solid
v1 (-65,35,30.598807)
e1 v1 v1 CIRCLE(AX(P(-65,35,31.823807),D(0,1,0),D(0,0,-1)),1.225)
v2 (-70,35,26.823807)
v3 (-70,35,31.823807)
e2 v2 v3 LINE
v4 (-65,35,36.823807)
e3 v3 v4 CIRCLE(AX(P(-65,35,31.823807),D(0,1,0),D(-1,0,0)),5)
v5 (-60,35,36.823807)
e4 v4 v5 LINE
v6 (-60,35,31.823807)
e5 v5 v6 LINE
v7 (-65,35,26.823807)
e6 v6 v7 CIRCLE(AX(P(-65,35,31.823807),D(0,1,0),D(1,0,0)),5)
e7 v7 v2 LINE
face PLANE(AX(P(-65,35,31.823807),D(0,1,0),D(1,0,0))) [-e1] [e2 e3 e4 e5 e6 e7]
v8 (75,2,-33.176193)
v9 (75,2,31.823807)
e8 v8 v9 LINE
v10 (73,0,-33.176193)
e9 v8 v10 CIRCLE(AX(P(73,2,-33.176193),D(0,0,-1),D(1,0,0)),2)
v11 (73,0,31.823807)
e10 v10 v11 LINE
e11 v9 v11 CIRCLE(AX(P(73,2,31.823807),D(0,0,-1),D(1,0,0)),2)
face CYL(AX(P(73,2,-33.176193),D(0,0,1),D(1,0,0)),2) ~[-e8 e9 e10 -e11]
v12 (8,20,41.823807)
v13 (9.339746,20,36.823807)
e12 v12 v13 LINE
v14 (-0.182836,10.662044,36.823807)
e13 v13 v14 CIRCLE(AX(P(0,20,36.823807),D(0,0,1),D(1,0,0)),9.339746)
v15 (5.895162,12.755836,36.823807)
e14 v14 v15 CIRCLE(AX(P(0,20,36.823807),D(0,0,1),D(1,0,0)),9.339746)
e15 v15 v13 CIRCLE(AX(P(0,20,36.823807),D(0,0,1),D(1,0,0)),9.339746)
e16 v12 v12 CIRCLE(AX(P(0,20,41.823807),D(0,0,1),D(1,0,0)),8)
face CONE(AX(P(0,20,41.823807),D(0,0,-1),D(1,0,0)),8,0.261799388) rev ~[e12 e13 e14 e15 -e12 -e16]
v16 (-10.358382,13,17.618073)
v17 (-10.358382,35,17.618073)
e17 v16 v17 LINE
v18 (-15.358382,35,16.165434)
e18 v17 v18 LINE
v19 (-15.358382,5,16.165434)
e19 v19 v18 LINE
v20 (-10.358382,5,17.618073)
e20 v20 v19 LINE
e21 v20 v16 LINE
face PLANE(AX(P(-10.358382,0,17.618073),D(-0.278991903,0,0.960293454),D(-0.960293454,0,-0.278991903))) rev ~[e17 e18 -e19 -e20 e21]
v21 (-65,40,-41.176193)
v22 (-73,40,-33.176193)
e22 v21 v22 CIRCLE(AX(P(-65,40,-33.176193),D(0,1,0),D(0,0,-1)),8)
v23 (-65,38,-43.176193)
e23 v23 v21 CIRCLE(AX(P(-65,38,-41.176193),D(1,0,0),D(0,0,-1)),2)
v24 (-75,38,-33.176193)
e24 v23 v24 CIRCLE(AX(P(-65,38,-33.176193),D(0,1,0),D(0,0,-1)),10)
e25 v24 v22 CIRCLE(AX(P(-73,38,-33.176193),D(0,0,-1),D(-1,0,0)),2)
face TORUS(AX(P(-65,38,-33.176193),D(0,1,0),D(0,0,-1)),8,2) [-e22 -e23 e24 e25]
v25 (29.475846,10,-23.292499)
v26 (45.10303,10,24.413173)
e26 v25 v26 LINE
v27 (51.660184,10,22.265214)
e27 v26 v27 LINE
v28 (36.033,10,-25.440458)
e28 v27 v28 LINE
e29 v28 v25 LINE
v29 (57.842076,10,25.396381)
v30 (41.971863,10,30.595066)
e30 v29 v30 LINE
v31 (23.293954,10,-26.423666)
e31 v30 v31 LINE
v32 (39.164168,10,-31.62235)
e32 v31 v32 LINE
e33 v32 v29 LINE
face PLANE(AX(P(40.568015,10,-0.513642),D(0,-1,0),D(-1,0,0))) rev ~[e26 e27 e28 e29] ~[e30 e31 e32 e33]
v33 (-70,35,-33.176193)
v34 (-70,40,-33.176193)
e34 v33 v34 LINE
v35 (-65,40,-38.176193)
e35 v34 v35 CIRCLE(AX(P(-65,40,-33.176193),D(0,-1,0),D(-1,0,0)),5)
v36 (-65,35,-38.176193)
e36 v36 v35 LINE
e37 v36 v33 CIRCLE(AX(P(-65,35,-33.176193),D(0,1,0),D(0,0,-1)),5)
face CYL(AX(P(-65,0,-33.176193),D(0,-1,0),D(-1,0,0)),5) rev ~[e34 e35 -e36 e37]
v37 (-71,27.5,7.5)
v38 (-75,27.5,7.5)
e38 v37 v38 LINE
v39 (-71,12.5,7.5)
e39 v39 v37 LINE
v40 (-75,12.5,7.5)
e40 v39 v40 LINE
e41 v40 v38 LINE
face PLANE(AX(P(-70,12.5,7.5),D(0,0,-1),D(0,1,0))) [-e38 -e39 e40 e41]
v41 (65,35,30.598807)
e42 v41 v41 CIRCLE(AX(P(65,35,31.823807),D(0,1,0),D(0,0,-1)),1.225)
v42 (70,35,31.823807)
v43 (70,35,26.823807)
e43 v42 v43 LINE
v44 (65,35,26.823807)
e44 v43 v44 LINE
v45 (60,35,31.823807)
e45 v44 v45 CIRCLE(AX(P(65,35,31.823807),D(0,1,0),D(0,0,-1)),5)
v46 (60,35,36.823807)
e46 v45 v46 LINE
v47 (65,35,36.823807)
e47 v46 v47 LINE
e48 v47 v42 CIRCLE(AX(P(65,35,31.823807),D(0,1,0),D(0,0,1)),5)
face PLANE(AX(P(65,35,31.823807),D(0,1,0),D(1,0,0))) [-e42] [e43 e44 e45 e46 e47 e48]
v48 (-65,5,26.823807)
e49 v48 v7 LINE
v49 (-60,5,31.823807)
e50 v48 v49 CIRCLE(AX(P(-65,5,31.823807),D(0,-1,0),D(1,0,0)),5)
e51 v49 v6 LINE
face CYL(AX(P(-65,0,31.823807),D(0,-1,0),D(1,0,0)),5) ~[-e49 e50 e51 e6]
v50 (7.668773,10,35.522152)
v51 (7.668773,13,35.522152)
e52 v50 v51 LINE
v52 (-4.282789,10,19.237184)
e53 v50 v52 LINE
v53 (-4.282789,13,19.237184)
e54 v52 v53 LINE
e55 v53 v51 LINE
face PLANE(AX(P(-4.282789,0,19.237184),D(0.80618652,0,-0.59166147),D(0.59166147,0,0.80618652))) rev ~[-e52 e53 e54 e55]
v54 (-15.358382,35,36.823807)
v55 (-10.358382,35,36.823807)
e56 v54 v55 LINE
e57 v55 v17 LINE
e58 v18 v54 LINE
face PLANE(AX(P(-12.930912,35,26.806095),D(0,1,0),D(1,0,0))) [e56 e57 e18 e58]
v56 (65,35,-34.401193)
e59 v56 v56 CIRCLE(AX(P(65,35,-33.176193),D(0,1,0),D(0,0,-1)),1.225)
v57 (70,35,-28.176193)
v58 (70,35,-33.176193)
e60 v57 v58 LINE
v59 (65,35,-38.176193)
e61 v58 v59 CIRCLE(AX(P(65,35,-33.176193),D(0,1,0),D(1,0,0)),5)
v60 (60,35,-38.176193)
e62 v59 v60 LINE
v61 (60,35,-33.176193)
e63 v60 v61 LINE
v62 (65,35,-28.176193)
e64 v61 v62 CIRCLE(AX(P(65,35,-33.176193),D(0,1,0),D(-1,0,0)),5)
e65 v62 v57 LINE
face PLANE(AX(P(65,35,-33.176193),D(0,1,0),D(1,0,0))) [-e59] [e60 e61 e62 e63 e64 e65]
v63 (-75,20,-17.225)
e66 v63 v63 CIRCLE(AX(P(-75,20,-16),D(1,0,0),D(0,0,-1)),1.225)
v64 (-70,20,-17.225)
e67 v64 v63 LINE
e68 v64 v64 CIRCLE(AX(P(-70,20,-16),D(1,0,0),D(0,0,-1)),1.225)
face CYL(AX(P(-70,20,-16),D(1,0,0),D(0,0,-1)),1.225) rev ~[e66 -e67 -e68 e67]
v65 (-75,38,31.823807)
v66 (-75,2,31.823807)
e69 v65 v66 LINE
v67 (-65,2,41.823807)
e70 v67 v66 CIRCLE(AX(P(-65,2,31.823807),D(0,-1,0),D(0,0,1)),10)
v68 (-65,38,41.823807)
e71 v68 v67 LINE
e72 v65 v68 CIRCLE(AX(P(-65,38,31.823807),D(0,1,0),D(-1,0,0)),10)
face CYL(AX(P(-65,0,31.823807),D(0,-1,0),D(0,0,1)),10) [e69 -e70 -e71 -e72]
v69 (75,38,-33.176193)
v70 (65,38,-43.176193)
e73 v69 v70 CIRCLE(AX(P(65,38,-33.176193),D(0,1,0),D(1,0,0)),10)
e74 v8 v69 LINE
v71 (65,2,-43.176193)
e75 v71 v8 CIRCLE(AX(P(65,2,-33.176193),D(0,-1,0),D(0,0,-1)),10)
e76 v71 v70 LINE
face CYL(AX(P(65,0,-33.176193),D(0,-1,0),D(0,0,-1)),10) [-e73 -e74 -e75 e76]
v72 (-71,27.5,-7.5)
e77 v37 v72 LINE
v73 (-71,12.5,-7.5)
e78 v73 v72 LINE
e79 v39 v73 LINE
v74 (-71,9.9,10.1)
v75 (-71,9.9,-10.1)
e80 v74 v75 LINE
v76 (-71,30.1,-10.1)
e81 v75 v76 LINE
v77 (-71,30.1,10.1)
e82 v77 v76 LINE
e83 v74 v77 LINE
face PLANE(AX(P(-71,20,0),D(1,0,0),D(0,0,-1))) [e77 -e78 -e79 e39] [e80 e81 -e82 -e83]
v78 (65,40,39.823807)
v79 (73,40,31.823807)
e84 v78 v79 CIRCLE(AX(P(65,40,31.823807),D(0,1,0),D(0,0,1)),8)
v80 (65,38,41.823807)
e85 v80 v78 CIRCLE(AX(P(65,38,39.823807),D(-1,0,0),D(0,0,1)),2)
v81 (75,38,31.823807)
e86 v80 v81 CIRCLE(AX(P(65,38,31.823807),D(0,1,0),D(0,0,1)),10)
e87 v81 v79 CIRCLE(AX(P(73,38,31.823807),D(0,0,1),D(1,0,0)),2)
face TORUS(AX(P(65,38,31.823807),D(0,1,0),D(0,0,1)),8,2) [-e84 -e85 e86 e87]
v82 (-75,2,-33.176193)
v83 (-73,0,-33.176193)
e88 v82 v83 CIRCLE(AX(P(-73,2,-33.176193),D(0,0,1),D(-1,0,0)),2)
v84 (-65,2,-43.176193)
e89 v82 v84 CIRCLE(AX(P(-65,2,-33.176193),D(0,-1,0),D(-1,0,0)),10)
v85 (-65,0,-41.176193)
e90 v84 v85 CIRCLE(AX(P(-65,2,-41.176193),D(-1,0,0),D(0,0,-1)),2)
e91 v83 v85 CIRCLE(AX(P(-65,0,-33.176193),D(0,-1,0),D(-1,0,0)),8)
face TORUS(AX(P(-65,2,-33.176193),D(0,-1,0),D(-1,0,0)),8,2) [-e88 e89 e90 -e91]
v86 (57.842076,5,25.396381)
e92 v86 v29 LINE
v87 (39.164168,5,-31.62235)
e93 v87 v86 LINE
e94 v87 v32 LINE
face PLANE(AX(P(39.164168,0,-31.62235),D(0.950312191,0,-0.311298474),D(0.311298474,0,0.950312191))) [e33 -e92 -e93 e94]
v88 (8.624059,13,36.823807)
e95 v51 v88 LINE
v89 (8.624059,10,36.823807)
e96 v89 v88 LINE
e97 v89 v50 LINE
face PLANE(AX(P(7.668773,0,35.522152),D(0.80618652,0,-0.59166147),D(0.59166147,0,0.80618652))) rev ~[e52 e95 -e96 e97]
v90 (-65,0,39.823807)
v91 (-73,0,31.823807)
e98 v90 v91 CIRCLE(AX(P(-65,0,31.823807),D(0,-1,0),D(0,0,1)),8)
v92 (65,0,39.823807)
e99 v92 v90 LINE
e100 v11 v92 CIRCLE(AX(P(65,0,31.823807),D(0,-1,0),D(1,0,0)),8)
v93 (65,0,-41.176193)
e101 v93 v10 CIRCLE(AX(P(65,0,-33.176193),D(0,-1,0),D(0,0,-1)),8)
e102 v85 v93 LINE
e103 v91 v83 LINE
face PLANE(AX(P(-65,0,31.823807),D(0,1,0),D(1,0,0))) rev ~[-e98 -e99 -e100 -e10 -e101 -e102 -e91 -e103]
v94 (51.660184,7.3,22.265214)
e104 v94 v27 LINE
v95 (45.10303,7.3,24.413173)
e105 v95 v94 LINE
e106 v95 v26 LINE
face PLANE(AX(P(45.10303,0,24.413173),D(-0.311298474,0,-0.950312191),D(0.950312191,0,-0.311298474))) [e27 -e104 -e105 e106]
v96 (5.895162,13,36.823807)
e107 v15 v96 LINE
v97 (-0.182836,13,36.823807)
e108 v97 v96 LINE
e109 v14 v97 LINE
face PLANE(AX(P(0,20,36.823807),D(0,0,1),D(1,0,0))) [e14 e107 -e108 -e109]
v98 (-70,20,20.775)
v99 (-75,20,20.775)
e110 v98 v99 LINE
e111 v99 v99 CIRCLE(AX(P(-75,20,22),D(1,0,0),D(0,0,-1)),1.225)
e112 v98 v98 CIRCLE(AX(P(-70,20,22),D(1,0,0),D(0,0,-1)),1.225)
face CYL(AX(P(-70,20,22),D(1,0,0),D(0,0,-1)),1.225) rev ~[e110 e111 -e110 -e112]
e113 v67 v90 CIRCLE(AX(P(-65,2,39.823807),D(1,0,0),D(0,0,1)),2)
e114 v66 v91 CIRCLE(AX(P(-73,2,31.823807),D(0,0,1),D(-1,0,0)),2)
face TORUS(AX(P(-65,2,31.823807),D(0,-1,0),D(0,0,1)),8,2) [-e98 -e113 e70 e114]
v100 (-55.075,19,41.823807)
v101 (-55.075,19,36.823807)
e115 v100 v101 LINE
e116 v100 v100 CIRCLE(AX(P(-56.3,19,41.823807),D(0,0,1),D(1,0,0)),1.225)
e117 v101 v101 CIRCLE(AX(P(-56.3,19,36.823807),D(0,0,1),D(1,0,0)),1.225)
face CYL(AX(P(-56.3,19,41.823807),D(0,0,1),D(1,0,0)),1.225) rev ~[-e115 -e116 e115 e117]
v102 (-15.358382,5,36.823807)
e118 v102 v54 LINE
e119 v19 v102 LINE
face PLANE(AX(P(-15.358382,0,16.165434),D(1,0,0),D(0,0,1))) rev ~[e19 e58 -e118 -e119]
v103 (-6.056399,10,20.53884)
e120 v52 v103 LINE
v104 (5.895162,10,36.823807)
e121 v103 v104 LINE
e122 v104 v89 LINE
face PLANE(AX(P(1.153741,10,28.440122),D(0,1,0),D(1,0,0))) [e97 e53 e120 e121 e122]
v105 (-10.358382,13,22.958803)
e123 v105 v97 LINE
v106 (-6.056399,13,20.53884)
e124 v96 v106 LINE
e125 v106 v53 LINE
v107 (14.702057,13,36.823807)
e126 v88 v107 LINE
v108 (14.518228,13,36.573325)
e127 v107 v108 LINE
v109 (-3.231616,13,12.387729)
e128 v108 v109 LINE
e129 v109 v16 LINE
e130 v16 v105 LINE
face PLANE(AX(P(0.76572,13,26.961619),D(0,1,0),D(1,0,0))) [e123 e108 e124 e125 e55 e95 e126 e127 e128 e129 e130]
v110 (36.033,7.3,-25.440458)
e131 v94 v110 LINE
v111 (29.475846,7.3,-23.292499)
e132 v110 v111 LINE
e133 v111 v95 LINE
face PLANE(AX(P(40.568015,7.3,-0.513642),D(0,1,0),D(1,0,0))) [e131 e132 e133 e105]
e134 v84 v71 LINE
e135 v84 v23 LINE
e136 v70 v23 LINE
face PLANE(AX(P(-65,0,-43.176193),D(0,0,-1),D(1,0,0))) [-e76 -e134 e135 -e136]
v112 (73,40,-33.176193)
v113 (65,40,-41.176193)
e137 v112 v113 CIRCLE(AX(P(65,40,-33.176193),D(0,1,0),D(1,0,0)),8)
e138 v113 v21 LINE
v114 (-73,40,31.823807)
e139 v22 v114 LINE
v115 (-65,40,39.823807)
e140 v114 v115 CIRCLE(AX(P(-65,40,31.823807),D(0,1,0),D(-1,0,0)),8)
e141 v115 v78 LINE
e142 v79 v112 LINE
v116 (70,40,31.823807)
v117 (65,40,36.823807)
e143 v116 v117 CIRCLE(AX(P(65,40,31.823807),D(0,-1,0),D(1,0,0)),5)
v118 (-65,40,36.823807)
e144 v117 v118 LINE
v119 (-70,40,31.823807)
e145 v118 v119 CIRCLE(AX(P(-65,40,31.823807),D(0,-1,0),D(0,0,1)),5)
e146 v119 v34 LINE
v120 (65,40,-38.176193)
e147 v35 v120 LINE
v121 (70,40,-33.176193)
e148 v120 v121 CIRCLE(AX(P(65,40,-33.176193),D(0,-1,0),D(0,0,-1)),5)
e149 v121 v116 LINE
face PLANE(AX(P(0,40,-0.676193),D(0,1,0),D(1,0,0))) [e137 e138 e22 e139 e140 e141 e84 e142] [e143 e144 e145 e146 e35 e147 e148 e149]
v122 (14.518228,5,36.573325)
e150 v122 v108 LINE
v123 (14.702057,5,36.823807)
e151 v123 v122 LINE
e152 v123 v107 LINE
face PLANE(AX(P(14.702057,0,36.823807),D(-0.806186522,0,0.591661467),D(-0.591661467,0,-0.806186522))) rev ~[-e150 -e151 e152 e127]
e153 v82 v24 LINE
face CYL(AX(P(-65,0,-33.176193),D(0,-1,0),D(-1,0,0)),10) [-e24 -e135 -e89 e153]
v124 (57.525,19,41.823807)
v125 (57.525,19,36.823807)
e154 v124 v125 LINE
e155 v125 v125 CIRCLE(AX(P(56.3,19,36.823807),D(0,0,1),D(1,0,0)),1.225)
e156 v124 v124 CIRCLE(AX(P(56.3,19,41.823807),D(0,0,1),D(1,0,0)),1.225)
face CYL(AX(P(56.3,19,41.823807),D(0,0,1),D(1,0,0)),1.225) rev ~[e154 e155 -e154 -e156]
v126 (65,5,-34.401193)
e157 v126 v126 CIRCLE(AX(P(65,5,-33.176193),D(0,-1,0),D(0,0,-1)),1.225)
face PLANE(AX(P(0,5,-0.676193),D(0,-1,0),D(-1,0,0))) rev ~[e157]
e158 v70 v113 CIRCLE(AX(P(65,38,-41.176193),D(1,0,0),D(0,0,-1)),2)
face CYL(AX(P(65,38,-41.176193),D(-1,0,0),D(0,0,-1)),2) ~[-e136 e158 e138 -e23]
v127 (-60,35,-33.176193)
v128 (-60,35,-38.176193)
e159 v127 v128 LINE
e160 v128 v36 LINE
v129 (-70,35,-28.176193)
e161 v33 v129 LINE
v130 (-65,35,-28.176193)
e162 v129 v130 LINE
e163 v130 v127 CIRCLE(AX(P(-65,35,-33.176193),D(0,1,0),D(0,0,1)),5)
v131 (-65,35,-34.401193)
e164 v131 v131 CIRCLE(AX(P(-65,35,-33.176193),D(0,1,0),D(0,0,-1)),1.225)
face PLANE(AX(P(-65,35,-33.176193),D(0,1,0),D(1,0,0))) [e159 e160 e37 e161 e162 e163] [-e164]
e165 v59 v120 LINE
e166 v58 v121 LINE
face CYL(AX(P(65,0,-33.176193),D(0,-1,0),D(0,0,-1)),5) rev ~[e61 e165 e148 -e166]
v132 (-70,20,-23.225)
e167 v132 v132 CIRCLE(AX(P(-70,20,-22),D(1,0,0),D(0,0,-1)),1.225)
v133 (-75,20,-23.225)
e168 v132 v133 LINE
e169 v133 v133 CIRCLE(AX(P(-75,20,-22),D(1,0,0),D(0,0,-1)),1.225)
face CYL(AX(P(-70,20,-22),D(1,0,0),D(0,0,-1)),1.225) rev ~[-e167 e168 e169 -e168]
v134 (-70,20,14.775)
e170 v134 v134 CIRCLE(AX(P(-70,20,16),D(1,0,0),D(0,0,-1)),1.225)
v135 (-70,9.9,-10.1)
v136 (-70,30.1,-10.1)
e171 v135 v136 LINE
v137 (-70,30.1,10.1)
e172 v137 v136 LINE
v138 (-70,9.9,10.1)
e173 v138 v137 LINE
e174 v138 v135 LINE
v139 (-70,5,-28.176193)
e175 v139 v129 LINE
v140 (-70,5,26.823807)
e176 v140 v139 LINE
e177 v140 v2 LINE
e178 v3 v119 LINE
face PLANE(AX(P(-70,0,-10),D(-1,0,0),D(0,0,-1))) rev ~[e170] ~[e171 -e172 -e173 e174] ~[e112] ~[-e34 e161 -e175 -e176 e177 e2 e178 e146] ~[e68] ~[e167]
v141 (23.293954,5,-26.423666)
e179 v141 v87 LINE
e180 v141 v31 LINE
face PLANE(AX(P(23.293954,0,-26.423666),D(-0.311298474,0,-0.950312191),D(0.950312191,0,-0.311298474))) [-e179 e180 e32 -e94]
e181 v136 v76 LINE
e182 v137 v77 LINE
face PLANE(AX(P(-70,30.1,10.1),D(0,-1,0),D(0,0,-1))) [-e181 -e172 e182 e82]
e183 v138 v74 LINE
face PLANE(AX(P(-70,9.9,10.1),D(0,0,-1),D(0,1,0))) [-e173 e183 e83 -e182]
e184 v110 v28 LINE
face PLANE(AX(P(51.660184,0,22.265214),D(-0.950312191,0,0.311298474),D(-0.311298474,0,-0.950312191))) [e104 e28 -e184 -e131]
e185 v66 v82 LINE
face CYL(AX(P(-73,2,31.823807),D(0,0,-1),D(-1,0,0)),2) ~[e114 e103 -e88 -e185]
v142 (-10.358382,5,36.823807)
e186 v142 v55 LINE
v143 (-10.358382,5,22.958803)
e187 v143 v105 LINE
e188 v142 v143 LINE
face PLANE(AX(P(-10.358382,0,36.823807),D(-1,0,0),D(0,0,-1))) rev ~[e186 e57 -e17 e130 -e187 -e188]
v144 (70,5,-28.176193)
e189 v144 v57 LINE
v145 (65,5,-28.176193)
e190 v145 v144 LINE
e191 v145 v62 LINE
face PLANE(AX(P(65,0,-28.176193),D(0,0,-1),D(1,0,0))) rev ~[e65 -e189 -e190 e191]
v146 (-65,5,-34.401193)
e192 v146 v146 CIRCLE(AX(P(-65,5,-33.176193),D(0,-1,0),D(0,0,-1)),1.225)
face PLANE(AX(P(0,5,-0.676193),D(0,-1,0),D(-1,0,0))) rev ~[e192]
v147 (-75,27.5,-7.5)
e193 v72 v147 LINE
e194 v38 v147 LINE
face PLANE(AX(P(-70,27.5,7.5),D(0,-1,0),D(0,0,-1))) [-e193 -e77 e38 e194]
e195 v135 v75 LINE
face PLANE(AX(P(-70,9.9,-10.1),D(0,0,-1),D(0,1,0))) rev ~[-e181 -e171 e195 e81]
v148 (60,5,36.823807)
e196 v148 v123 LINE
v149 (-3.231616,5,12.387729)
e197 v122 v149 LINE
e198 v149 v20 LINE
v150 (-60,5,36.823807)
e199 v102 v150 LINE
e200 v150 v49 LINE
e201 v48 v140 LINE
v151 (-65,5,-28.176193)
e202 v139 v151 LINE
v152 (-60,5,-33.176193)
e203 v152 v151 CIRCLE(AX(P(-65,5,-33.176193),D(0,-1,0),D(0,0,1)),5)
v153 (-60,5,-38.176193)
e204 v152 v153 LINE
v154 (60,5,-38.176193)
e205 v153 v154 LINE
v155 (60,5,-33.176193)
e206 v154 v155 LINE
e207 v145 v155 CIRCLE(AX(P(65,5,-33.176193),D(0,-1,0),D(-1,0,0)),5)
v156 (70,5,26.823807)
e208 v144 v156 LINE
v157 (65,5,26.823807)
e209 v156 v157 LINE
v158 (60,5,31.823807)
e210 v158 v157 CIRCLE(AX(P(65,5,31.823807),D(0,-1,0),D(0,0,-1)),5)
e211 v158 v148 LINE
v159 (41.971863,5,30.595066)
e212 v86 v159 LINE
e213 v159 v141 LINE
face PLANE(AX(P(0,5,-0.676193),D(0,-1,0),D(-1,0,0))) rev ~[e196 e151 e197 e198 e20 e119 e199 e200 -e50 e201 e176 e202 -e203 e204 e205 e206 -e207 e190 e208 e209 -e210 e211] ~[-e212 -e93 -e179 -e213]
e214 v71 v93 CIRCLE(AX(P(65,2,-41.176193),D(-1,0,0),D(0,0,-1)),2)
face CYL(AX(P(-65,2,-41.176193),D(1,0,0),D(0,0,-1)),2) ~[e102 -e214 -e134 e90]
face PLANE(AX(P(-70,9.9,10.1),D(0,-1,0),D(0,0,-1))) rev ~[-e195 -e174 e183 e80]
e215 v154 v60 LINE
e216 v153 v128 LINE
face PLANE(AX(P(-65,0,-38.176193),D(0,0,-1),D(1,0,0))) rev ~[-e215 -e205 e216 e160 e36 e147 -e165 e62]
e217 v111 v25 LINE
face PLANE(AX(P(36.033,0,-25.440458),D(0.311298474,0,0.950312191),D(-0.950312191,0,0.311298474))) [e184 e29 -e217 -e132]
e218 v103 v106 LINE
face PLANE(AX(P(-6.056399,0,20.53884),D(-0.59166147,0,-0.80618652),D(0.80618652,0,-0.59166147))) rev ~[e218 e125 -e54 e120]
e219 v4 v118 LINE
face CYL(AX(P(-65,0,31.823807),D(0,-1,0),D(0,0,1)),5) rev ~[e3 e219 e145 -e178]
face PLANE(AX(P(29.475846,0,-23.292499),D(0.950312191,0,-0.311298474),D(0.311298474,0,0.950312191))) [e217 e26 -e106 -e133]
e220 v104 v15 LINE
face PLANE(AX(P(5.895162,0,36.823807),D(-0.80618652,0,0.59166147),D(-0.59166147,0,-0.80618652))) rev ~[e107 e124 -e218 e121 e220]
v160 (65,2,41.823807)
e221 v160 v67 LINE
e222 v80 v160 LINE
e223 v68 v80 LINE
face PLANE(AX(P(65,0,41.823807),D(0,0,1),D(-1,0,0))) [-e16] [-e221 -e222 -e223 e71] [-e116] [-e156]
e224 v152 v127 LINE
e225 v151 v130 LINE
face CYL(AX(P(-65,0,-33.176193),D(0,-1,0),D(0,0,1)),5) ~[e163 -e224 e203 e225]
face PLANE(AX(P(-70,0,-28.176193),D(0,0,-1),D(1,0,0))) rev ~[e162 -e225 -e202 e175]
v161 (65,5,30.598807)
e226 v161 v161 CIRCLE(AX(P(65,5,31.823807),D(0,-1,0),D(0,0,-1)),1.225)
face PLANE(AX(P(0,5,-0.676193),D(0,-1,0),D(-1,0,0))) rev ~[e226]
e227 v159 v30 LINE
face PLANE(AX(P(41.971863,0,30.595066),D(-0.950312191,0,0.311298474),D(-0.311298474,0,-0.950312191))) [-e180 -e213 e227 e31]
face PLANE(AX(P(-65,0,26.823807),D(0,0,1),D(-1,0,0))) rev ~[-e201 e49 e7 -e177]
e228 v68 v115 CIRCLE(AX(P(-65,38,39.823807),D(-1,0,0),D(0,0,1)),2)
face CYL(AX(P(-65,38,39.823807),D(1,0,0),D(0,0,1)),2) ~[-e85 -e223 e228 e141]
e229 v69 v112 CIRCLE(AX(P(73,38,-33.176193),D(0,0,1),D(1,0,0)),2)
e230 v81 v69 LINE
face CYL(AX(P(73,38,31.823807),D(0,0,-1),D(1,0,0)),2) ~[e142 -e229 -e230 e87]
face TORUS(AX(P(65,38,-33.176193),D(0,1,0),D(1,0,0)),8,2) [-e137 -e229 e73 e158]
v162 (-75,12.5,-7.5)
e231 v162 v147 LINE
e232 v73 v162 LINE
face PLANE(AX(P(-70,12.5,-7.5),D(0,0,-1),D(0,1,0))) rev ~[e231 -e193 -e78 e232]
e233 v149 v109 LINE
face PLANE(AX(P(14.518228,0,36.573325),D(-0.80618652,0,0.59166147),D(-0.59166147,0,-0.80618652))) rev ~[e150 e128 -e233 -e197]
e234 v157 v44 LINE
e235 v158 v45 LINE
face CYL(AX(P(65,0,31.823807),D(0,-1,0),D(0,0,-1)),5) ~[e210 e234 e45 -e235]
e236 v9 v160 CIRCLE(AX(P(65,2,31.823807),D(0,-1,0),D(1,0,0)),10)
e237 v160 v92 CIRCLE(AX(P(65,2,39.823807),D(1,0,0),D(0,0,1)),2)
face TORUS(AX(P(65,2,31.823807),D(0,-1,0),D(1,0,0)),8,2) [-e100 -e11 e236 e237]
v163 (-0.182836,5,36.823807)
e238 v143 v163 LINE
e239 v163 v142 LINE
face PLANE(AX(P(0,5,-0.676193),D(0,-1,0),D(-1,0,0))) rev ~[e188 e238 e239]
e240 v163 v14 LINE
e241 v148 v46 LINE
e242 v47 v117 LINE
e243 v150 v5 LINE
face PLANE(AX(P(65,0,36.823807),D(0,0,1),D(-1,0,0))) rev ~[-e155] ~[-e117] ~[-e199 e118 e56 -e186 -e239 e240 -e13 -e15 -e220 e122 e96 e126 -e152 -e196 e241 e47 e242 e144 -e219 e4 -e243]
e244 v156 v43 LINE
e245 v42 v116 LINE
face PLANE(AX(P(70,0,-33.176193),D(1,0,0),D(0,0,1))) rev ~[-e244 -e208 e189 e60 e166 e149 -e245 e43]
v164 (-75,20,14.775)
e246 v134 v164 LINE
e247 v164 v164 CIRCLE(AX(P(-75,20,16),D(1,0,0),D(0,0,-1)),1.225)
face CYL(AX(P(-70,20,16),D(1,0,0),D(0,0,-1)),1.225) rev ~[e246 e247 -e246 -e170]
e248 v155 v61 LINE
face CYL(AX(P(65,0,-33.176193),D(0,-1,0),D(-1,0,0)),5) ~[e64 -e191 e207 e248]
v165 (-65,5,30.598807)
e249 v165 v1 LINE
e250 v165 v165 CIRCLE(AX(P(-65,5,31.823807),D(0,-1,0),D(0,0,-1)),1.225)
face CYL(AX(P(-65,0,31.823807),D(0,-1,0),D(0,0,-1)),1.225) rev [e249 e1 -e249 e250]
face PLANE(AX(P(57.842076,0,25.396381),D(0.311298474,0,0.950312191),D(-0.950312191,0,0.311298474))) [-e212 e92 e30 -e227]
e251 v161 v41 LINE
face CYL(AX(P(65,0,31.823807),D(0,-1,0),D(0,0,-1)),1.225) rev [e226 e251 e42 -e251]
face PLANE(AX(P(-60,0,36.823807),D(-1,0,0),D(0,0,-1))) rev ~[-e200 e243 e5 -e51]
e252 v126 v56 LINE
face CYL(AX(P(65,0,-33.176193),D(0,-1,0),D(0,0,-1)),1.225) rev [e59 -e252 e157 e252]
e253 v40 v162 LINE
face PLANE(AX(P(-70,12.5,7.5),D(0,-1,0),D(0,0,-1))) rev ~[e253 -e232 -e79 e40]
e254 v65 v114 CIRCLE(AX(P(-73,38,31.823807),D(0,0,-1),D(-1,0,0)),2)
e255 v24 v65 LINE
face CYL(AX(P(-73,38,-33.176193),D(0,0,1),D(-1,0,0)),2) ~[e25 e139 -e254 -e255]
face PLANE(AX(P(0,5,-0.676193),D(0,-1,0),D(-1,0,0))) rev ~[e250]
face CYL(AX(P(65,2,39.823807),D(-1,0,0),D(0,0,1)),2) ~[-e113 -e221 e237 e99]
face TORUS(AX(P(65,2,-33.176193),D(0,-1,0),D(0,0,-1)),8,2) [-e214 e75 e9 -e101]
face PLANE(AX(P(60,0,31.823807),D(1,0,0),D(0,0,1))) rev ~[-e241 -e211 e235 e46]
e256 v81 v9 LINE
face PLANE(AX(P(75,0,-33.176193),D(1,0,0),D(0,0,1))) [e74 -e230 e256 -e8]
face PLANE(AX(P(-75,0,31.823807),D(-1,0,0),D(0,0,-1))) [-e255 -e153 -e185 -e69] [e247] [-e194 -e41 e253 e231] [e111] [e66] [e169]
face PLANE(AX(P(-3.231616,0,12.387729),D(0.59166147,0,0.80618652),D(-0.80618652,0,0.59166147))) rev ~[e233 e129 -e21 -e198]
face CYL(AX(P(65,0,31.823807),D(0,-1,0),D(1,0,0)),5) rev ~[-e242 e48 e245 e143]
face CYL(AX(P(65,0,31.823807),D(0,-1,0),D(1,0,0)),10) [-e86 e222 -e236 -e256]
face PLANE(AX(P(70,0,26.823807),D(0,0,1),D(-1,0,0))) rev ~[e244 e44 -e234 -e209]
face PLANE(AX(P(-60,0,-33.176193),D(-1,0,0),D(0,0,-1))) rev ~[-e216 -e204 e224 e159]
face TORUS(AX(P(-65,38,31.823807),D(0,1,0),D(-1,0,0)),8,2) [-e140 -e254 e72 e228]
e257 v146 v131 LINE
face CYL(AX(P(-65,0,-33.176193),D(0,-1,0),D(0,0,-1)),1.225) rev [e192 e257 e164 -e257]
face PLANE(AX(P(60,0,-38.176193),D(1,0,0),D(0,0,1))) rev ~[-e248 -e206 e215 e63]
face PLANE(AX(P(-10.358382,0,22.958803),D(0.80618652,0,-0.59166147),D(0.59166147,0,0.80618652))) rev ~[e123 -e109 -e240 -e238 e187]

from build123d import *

# Parameters (mm, degrees)
EXTRUDE_1_DEPTH     = 5
EXTRUDE_3_DEPTH     = 10
EXTRUDE_6_DEPTH     = 35
EXTRUDE_7_DEPTH     = 40
EXTRUDE_8_DEPTH     = 13
SKETCH_1_12_W       = 1
SKETCH_1_12_H       = 20
EXTRUDE_9_DEPTH     = 40
SKETCH_3_R          = 8
CUT_EXTRUDE_2_DEPTH = 5
CUT_EXTRUDE_2_DRAFT = 15
SKETCH_3_3_R        = 1.225
CUT_EXTRUDE_3_DEPTH = 5
EXTRUDE_10_DEPTH    = 7.3
EXTRUDE_11_DEPTH    = 10
SKETCH_1_17_R       = 1.225
EXTRUDE_12_DEPTH    = 35
SKETCH_4_W          = 20.2
SKETCH_4_H          = 20.2
SKETCH_4_W_2        = 15
SKETCH_4_H_2        = 15
CUT_EXTRUDE_4_DEPTH = 1
SKETCH_4_2_W        = 15
SKETCH_4_2_H        = 15
CUT_EXTRUDE_5_DEPTH = 5
SKETCH_4_4_R        = 1.225
CUT_EXTRUDE_6_DEPTH = 5
FILLET_1_R          = 2
FILLET_2_R          = 2


with BuildPart() as part:
    # 草图1 → 凸台-拉伸1 (new body)
    with BuildSketch(Plane(origin=(0, 0, 0), x_dir=(1, 0, 0), z_dir=(0, 1, 0))):
        with BuildLine():
            Line((75, 33.176192778), (75, -31.823807222))
            ThreePointArc((75, -31.823807222), (72.071067812, -38.894875033), (65, -41.823807222))
            Line((65, -41.823807222), (-65, -41.823807222))
            ThreePointArc((-65, -41.823807222), (-72.071067812, -38.894875033), (-75, -31.823807222))
            Line((-75, -31.823807222), (-75, 33.176192778))
            ThreePointArc((-75, 33.176192778), (-72.071067812, 40.24726059), (-65, 43.176192778))
            Line((-65, 43.176192778), (65, 43.176192778))
            ThreePointArc((65, 43.176192778), (72.071067812, 40.24726059), (75, 33.176192778))
        make_face()
    extrude(amount=EXTRUDE_1_DEPTH)

    # 草图1<5> → 凸台-拉伸3 (add)
    with BuildSketch(Plane(origin=(0, 0, 0), x_dir=(1, 0, 0), z_dir=(0, 1, 0))):
        Polygon((57.842076132, -25.396380983), (39.164167684, 31.622350466), (23.293954098, 26.423665948), (41.971862546, -30.595065501), align=None)
        Polygon((29.475846356, 23.292498736), (36.033000472, 25.440458207), (51.660183874, -22.265213771), (45.103029757, -24.413173243), align=None, mode=Mode.SUBTRACT)
    extrude(amount=EXTRUDE_3_DEPTH)

    # 草图1<7> → 凸台-拉伸6 (add)
    with BuildSketch(Plane(origin=(0, 0, 0), x_dir=(1, 0, 0), z_dir=(0, 1, 0))):
        Polygon((-15.358382401, -16.165434366), (-15.358382401, -36.823807222), (-10.358382401, -36.823807222), (-10.358382401, -22.958803378), (-10.358382401, -17.618073152), align=None)
    extrude(amount=EXTRUDE_6_DEPTH)

    # 草图1<8> → 凸台-拉伸7 (add)
    with BuildSketch(Plane(origin=(0, 0, 0), x_dir=(1, 0, 0), z_dir=(0, 1, 0))):
        with BuildLine():
            Line((75, -31.823807222), (75, 33.176192778))
            ThreePointArc((75, 33.176192778), (72.071067812, 40.24726059), (65, 43.176192778))
            Line((65, 43.176192778), (-65, 43.176192778))
            ThreePointArc((-65, 43.176192778), (-72.071067812, 40.24726059), (-75, 33.176192778))
            Line((-75, 33.176192778), (-75, -31.823807222))
            ThreePointArc((-75, -31.823807222), (-72.071067812, -38.894875033), (-65, -41.823807222))
            Line((-65, -41.823807222), (65, -41.823807222))
            ThreePointArc((65, -41.823807222), (72.071067812, -38.894875033), (75, -31.823807222))
        make_face()
        with BuildLine():
            Line((-60, -36.823807222), (-65, -36.823807222))
            ThreePointArc((-65, -36.823807222), (-68.535533906, -35.359341128), (-70, -31.823807222))
            Line((-70, -31.823807222), (-70, -26.823807222))
            Line((-70, -26.823807222), (-70, -10))
            Line((-70, -10), (-71, -10))
            Line((-71, -10), (-71, 10))
            Line((-71, 10), (-70, 10))
            Line((-70, 10), (-70, 28.176192778))
            Line((-70, 28.176192778), (-70, 33.176192778))
            ThreePointArc((-70, 33.176192778), (-68.535533906, 36.711726684), (-65, 38.176192778))
            Line((-65, 38.176192778), (-60, 38.176192778))
            Line((-60, 38.176192778), (60, 38.176192778))
            Line((60, 38.176192778), (65, 38.176192778))
            ThreePointArc((65, 38.176192778), (68.535533906, 36.711726684), (70, 33.176192778))
            Line((70, 33.176192778), (70, 28.176192778))
            Line((70, 28.176192778), (70, -26.823807222))
            Line((70, -26.823807222), (70, -31.823807222))
            ThreePointArc((70, -31.823807222), (68.535533906, -35.359341128), (65, -36.823807222))
            Line((65, -36.823807222), (60, -36.823807222))
            Line((60, -36.823807222), (14.702057154, -36.823807222))
            Line((14.702057154, -36.823807222), (8.624059224, -36.823807222))
            Line((8.624059224, -36.823807222), (5.895162194, -36.823807222))
            Line((5.895162194, -36.823807222), (-0.182835736, -36.823807222))
            Line((-0.182835736, -36.823807222), (-10.358382401, -36.823807222))
            Line((-10.358382401, -36.823807222), (-15.358382401, -36.823807222))
            Line((-15.358382401, -36.823807222), (-60, -36.823807222))
        make_face(mode=Mode.SUBTRACT)
    extrude(amount=EXTRUDE_7_DEPTH)

    # 草图1<11> → 凸台-拉伸8 (add)
    with BuildSketch(Plane(origin=(0, 0, 0), x_dir=(1, 0, 0), z_dir=(0, 1, 0))):
        Polygon((-10.358382401, -22.958803378), (-0.182835736, -36.823807222), (5.895162194, -36.823807222), (-6.056399498, -20.538839518), (-4.282789154, -19.237184284), (7.668772538, -35.522151988), (8.624059224, -36.823807222), (14.702057154, -36.823807222), (14.518227689, -36.573324733), (-3.231616409, -12.387729133), (-10.358382401, -17.618073152), align=None)
    extrude(amount=EXTRUDE_8_DEPTH)

    # 草图1<12> → 凸台-拉伸9 (add)
    with BuildSketch(Plane(origin=(0, 0, 0), x_dir=(1, 0, 0), z_dir=(0, 1, 0))):
        with Locations((-70.5, 0)):
            Rectangle(SKETCH_1_12_W, SKETCH_1_12_H)
    extrude(amount=EXTRUDE_9_DEPTH)


with BuildPart() as cut_extrude_2_tool:
    # 草图3 → 切除-拉伸2 (with draft: the straight prism first)
    with BuildSketch(Plane.XY.offset(41.823807222)):
        with Locations((0, 20)):
            Circle(SKETCH_3_R)
    extrude(amount=-CUT_EXTRUDE_2_DEPTH)
    # 切除-拉伸2: the draft: its side faces are tilted about the plane it starts from
    cut_extrude_2_sides = [cut_extrude_2_tool.faces().sort_by_distance(p)[0] for p in [
        (-8, 20, 39.323807222),
    ]]
    draft(cut_extrude_2_sides, Plane.XY.offset(41.823807222), CUT_EXTRUDE_2_DRAFT)


with BuildPart() as part_1:
    add(part.part)

    # 切除-拉伸2: cut by cut_extrude_2_tool
    add(cut_extrude_2_tool.part, mode=Mode.SUBTRACT)

    # 草图3<3> → 切除-拉伸3 (cut)
    with BuildSketch(Plane.XY.offset(41.823807222)):
        with Locations((56.3, 19)):
            Circle(SKETCH_3_3_R)
        with Locations((-56.3, 19)):
            Circle(SKETCH_3_3_R)
    extrude(amount=-CUT_EXTRUDE_3_DEPTH, mode=Mode.SUBTRACT)

    # 草图1<13> → 凸台-拉伸10 (add)
    with BuildSketch(Plane(origin=(0, 0, 0), x_dir=(1, 0, 0), z_dir=(0, 1, 0))):
        Polygon((36.033000472, 25.440458207), (29.475846356, 23.292498736), (45.103029757, -24.413173243), (51.660183874, -22.265213771), align=None)
    extrude(amount=EXTRUDE_10_DEPTH)

    # 草图1<16> → 凸台-拉伸11 (add)
    with BuildSketch(Plane(origin=(0, 0, 0), x_dir=(1, 0, 0), z_dir=(0, 1, 0))):
        Polygon((-6.056399498, -20.538839518), (5.895162194, -36.823807222), (8.624059224, -36.823807222), (7.668772538, -35.522151988), (-4.282789154, -19.237184284), align=None)
    extrude(amount=EXTRUDE_11_DEPTH)

    # 草图1<17> → 凸台-拉伸12 (add)
    # profile 1 of 4: a face of its own
    with BuildSketch(Plane(origin=(0, 0, 0), x_dir=(1, 0, 0), z_dir=(0, 1, 0))):
        with BuildLine():
            ThreePointArc((-70, -31.823807222), (-68.535533906, -35.359341128), (-65, -36.823807222))
            Line((-65, -36.823807222), (-60, -36.823807222))
            Line((-60, -36.823807222), (-60, -31.823807222))
            ThreePointArc((-60, -31.823807222), (-61.464466094, -28.288273316), (-65, -26.823807222))
            Line((-65, -26.823807222), (-70, -26.823807222))
            Line((-70, -26.823807222), (-70, -31.823807222))
        make_face()
        with Locations((-65, -31.823807222)):
            Circle(SKETCH_1_17_R, mode=Mode.SUBTRACT)
    # profile 2 of 4: a face of its own
    with BuildSketch(Plane(origin=(0, 0, 0), x_dir=(1, 0, 0), z_dir=(0, 1, 0))):
        with BuildLine():
            Line((-70, 33.176192778), (-70, 28.176192778))
            Line((-70, 28.176192778), (-65, 28.176192778))
            ThreePointArc((-65, 28.176192778), (-61.464466094, 29.640658872), (-60, 33.176192778))
            Line((-60, 33.176192778), (-60, 38.176192778))
            Line((-60, 38.176192778), (-65, 38.176192778))
            ThreePointArc((-65, 38.176192778), (-68.535533906, 36.711726684), (-70, 33.176192778))
        make_face()
        with Locations((-65, 33.176192778)):
            Circle(SKETCH_1_17_R, mode=Mode.SUBTRACT)
    # profile 3 of 4: a face of its own
    with BuildSketch(Plane(origin=(0, 0, 0), x_dir=(1, 0, 0), z_dir=(0, 1, 0))):
        with BuildLine():
            Line((60, -31.823807222), (60, -36.823807222))
            Line((60, -36.823807222), (65, -36.823807222))
            ThreePointArc((65, -36.823807222), (68.535533906, -35.359341128), (70, -31.823807222))
            Line((70, -31.823807222), (70, -26.823807222))
            Line((70, -26.823807222), (65, -26.823807222))
            ThreePointArc((65, -26.823807222), (61.464466094, -28.288273316), (60, -31.823807222))
        make_face()
        with Locations((65, -31.823807222)):
            Circle(SKETCH_1_17_R, mode=Mode.SUBTRACT)
    # profile 4 of 4: a face of its own
    with BuildSketch(Plane(origin=(0, 0, 0), x_dir=(1, 0, 0), z_dir=(0, 1, 0))):
        with BuildLine():
            Line((65, 38.176192778), (60, 38.176192778))
            Line((60, 38.176192778), (60, 33.176192778))
            ThreePointArc((60, 33.176192778), (61.464466094, 29.640658872), (65, 28.176192778))
            Line((65, 28.176192778), (70, 28.176192778))
            Line((70, 28.176192778), (70, 33.176192778))
            ThreePointArc((70, 33.176192778), (68.535533906, 36.711726684), (65, 38.176192778))
        make_face()
        with Locations((65, 33.176192778)):
            Circle(SKETCH_1_17_R, mode=Mode.SUBTRACT)
    extrude(amount=EXTRUDE_12_DEPTH)

    # 草图4 → 切除-拉伸4 (cut)
    with BuildSketch(Plane(origin=(-70, 0, 0), x_dir=(0, 0, -1), z_dir=(1, 0, 0))):
        with Locations((0, 20)):
            Rectangle(SKETCH_4_W, SKETCH_4_H)
        with Locations((0, 20)):
            Rectangle(SKETCH_4_W_2, SKETCH_4_H_2, mode=Mode.SUBTRACT)
    extrude(amount=-CUT_EXTRUDE_4_DEPTH, mode=Mode.SUBTRACT)

    # 草图4<2> → 切除-拉伸5 (cut)
    with BuildSketch(Plane(origin=(-70, 0, 0), x_dir=(0, 0, -1), z_dir=(1, 0, 0))):
        with Locations((0, 20)):
            Rectangle(SKETCH_4_2_W, SKETCH_4_2_H)
    extrude(amount=-CUT_EXTRUDE_5_DEPTH, mode=Mode.SUBTRACT)

    # 草图4<4> → 切除-拉伸6 (cut)
    with BuildSketch(Plane(origin=(-70, 0, 0), x_dir=(0, 0, -1), z_dir=(1, 0, 0))):
        with Locations((-22, 20)):
            Circle(SKETCH_4_4_R)
        with Locations((22, 20)):
            Circle(SKETCH_4_4_R)
        with Locations((-16, 20)):
            Circle(SKETCH_4_4_R)
        with Locations((16, 20)):
            Circle(SKETCH_4_4_R)
    extrude(amount=-CUT_EXTRUDE_6_DEPTH, mode=Mode.SUBTRACT)

    # 圆角1
    fillet_1_edges = [part_1.edges().sort_by_distance(p)[0] for p in [
        (72.071067812, 40, -40.24726059),
        (72.071067812, 40, 38.894875033),
        (-72.071067812, 40, -40.24726059),
        (-72.071067812, 40, 38.894875033),
        (75, 40, -0.676192778),
        (0, 40, -43.176192778),
        (-75, 40, -0.676192778),
        (0, 40, 41.823807222),
    ]]
    fillet(fillet_1_edges, radius=FILLET_1_R)

    # 圆角2
    fillet_2_edges = [part_1.edges().sort_by_distance(p)[0] for p in [
        (-72.071067812, 0, 38.894875033),
        (-75, 0, -0.676192778),
        (-72.071067812, 0, -40.24726059),
        (0, 0, -43.176192778),
        (72.071067812, 0, -40.24726059),
        (75, 0, -0.676192778),
        (72.071067812, 0, 38.894875033),
        (0, 0, 41.823807222),
    ]]
    fillet(fillet_2_edges, radius=FILLET_2_R)


solid = part_1.part
